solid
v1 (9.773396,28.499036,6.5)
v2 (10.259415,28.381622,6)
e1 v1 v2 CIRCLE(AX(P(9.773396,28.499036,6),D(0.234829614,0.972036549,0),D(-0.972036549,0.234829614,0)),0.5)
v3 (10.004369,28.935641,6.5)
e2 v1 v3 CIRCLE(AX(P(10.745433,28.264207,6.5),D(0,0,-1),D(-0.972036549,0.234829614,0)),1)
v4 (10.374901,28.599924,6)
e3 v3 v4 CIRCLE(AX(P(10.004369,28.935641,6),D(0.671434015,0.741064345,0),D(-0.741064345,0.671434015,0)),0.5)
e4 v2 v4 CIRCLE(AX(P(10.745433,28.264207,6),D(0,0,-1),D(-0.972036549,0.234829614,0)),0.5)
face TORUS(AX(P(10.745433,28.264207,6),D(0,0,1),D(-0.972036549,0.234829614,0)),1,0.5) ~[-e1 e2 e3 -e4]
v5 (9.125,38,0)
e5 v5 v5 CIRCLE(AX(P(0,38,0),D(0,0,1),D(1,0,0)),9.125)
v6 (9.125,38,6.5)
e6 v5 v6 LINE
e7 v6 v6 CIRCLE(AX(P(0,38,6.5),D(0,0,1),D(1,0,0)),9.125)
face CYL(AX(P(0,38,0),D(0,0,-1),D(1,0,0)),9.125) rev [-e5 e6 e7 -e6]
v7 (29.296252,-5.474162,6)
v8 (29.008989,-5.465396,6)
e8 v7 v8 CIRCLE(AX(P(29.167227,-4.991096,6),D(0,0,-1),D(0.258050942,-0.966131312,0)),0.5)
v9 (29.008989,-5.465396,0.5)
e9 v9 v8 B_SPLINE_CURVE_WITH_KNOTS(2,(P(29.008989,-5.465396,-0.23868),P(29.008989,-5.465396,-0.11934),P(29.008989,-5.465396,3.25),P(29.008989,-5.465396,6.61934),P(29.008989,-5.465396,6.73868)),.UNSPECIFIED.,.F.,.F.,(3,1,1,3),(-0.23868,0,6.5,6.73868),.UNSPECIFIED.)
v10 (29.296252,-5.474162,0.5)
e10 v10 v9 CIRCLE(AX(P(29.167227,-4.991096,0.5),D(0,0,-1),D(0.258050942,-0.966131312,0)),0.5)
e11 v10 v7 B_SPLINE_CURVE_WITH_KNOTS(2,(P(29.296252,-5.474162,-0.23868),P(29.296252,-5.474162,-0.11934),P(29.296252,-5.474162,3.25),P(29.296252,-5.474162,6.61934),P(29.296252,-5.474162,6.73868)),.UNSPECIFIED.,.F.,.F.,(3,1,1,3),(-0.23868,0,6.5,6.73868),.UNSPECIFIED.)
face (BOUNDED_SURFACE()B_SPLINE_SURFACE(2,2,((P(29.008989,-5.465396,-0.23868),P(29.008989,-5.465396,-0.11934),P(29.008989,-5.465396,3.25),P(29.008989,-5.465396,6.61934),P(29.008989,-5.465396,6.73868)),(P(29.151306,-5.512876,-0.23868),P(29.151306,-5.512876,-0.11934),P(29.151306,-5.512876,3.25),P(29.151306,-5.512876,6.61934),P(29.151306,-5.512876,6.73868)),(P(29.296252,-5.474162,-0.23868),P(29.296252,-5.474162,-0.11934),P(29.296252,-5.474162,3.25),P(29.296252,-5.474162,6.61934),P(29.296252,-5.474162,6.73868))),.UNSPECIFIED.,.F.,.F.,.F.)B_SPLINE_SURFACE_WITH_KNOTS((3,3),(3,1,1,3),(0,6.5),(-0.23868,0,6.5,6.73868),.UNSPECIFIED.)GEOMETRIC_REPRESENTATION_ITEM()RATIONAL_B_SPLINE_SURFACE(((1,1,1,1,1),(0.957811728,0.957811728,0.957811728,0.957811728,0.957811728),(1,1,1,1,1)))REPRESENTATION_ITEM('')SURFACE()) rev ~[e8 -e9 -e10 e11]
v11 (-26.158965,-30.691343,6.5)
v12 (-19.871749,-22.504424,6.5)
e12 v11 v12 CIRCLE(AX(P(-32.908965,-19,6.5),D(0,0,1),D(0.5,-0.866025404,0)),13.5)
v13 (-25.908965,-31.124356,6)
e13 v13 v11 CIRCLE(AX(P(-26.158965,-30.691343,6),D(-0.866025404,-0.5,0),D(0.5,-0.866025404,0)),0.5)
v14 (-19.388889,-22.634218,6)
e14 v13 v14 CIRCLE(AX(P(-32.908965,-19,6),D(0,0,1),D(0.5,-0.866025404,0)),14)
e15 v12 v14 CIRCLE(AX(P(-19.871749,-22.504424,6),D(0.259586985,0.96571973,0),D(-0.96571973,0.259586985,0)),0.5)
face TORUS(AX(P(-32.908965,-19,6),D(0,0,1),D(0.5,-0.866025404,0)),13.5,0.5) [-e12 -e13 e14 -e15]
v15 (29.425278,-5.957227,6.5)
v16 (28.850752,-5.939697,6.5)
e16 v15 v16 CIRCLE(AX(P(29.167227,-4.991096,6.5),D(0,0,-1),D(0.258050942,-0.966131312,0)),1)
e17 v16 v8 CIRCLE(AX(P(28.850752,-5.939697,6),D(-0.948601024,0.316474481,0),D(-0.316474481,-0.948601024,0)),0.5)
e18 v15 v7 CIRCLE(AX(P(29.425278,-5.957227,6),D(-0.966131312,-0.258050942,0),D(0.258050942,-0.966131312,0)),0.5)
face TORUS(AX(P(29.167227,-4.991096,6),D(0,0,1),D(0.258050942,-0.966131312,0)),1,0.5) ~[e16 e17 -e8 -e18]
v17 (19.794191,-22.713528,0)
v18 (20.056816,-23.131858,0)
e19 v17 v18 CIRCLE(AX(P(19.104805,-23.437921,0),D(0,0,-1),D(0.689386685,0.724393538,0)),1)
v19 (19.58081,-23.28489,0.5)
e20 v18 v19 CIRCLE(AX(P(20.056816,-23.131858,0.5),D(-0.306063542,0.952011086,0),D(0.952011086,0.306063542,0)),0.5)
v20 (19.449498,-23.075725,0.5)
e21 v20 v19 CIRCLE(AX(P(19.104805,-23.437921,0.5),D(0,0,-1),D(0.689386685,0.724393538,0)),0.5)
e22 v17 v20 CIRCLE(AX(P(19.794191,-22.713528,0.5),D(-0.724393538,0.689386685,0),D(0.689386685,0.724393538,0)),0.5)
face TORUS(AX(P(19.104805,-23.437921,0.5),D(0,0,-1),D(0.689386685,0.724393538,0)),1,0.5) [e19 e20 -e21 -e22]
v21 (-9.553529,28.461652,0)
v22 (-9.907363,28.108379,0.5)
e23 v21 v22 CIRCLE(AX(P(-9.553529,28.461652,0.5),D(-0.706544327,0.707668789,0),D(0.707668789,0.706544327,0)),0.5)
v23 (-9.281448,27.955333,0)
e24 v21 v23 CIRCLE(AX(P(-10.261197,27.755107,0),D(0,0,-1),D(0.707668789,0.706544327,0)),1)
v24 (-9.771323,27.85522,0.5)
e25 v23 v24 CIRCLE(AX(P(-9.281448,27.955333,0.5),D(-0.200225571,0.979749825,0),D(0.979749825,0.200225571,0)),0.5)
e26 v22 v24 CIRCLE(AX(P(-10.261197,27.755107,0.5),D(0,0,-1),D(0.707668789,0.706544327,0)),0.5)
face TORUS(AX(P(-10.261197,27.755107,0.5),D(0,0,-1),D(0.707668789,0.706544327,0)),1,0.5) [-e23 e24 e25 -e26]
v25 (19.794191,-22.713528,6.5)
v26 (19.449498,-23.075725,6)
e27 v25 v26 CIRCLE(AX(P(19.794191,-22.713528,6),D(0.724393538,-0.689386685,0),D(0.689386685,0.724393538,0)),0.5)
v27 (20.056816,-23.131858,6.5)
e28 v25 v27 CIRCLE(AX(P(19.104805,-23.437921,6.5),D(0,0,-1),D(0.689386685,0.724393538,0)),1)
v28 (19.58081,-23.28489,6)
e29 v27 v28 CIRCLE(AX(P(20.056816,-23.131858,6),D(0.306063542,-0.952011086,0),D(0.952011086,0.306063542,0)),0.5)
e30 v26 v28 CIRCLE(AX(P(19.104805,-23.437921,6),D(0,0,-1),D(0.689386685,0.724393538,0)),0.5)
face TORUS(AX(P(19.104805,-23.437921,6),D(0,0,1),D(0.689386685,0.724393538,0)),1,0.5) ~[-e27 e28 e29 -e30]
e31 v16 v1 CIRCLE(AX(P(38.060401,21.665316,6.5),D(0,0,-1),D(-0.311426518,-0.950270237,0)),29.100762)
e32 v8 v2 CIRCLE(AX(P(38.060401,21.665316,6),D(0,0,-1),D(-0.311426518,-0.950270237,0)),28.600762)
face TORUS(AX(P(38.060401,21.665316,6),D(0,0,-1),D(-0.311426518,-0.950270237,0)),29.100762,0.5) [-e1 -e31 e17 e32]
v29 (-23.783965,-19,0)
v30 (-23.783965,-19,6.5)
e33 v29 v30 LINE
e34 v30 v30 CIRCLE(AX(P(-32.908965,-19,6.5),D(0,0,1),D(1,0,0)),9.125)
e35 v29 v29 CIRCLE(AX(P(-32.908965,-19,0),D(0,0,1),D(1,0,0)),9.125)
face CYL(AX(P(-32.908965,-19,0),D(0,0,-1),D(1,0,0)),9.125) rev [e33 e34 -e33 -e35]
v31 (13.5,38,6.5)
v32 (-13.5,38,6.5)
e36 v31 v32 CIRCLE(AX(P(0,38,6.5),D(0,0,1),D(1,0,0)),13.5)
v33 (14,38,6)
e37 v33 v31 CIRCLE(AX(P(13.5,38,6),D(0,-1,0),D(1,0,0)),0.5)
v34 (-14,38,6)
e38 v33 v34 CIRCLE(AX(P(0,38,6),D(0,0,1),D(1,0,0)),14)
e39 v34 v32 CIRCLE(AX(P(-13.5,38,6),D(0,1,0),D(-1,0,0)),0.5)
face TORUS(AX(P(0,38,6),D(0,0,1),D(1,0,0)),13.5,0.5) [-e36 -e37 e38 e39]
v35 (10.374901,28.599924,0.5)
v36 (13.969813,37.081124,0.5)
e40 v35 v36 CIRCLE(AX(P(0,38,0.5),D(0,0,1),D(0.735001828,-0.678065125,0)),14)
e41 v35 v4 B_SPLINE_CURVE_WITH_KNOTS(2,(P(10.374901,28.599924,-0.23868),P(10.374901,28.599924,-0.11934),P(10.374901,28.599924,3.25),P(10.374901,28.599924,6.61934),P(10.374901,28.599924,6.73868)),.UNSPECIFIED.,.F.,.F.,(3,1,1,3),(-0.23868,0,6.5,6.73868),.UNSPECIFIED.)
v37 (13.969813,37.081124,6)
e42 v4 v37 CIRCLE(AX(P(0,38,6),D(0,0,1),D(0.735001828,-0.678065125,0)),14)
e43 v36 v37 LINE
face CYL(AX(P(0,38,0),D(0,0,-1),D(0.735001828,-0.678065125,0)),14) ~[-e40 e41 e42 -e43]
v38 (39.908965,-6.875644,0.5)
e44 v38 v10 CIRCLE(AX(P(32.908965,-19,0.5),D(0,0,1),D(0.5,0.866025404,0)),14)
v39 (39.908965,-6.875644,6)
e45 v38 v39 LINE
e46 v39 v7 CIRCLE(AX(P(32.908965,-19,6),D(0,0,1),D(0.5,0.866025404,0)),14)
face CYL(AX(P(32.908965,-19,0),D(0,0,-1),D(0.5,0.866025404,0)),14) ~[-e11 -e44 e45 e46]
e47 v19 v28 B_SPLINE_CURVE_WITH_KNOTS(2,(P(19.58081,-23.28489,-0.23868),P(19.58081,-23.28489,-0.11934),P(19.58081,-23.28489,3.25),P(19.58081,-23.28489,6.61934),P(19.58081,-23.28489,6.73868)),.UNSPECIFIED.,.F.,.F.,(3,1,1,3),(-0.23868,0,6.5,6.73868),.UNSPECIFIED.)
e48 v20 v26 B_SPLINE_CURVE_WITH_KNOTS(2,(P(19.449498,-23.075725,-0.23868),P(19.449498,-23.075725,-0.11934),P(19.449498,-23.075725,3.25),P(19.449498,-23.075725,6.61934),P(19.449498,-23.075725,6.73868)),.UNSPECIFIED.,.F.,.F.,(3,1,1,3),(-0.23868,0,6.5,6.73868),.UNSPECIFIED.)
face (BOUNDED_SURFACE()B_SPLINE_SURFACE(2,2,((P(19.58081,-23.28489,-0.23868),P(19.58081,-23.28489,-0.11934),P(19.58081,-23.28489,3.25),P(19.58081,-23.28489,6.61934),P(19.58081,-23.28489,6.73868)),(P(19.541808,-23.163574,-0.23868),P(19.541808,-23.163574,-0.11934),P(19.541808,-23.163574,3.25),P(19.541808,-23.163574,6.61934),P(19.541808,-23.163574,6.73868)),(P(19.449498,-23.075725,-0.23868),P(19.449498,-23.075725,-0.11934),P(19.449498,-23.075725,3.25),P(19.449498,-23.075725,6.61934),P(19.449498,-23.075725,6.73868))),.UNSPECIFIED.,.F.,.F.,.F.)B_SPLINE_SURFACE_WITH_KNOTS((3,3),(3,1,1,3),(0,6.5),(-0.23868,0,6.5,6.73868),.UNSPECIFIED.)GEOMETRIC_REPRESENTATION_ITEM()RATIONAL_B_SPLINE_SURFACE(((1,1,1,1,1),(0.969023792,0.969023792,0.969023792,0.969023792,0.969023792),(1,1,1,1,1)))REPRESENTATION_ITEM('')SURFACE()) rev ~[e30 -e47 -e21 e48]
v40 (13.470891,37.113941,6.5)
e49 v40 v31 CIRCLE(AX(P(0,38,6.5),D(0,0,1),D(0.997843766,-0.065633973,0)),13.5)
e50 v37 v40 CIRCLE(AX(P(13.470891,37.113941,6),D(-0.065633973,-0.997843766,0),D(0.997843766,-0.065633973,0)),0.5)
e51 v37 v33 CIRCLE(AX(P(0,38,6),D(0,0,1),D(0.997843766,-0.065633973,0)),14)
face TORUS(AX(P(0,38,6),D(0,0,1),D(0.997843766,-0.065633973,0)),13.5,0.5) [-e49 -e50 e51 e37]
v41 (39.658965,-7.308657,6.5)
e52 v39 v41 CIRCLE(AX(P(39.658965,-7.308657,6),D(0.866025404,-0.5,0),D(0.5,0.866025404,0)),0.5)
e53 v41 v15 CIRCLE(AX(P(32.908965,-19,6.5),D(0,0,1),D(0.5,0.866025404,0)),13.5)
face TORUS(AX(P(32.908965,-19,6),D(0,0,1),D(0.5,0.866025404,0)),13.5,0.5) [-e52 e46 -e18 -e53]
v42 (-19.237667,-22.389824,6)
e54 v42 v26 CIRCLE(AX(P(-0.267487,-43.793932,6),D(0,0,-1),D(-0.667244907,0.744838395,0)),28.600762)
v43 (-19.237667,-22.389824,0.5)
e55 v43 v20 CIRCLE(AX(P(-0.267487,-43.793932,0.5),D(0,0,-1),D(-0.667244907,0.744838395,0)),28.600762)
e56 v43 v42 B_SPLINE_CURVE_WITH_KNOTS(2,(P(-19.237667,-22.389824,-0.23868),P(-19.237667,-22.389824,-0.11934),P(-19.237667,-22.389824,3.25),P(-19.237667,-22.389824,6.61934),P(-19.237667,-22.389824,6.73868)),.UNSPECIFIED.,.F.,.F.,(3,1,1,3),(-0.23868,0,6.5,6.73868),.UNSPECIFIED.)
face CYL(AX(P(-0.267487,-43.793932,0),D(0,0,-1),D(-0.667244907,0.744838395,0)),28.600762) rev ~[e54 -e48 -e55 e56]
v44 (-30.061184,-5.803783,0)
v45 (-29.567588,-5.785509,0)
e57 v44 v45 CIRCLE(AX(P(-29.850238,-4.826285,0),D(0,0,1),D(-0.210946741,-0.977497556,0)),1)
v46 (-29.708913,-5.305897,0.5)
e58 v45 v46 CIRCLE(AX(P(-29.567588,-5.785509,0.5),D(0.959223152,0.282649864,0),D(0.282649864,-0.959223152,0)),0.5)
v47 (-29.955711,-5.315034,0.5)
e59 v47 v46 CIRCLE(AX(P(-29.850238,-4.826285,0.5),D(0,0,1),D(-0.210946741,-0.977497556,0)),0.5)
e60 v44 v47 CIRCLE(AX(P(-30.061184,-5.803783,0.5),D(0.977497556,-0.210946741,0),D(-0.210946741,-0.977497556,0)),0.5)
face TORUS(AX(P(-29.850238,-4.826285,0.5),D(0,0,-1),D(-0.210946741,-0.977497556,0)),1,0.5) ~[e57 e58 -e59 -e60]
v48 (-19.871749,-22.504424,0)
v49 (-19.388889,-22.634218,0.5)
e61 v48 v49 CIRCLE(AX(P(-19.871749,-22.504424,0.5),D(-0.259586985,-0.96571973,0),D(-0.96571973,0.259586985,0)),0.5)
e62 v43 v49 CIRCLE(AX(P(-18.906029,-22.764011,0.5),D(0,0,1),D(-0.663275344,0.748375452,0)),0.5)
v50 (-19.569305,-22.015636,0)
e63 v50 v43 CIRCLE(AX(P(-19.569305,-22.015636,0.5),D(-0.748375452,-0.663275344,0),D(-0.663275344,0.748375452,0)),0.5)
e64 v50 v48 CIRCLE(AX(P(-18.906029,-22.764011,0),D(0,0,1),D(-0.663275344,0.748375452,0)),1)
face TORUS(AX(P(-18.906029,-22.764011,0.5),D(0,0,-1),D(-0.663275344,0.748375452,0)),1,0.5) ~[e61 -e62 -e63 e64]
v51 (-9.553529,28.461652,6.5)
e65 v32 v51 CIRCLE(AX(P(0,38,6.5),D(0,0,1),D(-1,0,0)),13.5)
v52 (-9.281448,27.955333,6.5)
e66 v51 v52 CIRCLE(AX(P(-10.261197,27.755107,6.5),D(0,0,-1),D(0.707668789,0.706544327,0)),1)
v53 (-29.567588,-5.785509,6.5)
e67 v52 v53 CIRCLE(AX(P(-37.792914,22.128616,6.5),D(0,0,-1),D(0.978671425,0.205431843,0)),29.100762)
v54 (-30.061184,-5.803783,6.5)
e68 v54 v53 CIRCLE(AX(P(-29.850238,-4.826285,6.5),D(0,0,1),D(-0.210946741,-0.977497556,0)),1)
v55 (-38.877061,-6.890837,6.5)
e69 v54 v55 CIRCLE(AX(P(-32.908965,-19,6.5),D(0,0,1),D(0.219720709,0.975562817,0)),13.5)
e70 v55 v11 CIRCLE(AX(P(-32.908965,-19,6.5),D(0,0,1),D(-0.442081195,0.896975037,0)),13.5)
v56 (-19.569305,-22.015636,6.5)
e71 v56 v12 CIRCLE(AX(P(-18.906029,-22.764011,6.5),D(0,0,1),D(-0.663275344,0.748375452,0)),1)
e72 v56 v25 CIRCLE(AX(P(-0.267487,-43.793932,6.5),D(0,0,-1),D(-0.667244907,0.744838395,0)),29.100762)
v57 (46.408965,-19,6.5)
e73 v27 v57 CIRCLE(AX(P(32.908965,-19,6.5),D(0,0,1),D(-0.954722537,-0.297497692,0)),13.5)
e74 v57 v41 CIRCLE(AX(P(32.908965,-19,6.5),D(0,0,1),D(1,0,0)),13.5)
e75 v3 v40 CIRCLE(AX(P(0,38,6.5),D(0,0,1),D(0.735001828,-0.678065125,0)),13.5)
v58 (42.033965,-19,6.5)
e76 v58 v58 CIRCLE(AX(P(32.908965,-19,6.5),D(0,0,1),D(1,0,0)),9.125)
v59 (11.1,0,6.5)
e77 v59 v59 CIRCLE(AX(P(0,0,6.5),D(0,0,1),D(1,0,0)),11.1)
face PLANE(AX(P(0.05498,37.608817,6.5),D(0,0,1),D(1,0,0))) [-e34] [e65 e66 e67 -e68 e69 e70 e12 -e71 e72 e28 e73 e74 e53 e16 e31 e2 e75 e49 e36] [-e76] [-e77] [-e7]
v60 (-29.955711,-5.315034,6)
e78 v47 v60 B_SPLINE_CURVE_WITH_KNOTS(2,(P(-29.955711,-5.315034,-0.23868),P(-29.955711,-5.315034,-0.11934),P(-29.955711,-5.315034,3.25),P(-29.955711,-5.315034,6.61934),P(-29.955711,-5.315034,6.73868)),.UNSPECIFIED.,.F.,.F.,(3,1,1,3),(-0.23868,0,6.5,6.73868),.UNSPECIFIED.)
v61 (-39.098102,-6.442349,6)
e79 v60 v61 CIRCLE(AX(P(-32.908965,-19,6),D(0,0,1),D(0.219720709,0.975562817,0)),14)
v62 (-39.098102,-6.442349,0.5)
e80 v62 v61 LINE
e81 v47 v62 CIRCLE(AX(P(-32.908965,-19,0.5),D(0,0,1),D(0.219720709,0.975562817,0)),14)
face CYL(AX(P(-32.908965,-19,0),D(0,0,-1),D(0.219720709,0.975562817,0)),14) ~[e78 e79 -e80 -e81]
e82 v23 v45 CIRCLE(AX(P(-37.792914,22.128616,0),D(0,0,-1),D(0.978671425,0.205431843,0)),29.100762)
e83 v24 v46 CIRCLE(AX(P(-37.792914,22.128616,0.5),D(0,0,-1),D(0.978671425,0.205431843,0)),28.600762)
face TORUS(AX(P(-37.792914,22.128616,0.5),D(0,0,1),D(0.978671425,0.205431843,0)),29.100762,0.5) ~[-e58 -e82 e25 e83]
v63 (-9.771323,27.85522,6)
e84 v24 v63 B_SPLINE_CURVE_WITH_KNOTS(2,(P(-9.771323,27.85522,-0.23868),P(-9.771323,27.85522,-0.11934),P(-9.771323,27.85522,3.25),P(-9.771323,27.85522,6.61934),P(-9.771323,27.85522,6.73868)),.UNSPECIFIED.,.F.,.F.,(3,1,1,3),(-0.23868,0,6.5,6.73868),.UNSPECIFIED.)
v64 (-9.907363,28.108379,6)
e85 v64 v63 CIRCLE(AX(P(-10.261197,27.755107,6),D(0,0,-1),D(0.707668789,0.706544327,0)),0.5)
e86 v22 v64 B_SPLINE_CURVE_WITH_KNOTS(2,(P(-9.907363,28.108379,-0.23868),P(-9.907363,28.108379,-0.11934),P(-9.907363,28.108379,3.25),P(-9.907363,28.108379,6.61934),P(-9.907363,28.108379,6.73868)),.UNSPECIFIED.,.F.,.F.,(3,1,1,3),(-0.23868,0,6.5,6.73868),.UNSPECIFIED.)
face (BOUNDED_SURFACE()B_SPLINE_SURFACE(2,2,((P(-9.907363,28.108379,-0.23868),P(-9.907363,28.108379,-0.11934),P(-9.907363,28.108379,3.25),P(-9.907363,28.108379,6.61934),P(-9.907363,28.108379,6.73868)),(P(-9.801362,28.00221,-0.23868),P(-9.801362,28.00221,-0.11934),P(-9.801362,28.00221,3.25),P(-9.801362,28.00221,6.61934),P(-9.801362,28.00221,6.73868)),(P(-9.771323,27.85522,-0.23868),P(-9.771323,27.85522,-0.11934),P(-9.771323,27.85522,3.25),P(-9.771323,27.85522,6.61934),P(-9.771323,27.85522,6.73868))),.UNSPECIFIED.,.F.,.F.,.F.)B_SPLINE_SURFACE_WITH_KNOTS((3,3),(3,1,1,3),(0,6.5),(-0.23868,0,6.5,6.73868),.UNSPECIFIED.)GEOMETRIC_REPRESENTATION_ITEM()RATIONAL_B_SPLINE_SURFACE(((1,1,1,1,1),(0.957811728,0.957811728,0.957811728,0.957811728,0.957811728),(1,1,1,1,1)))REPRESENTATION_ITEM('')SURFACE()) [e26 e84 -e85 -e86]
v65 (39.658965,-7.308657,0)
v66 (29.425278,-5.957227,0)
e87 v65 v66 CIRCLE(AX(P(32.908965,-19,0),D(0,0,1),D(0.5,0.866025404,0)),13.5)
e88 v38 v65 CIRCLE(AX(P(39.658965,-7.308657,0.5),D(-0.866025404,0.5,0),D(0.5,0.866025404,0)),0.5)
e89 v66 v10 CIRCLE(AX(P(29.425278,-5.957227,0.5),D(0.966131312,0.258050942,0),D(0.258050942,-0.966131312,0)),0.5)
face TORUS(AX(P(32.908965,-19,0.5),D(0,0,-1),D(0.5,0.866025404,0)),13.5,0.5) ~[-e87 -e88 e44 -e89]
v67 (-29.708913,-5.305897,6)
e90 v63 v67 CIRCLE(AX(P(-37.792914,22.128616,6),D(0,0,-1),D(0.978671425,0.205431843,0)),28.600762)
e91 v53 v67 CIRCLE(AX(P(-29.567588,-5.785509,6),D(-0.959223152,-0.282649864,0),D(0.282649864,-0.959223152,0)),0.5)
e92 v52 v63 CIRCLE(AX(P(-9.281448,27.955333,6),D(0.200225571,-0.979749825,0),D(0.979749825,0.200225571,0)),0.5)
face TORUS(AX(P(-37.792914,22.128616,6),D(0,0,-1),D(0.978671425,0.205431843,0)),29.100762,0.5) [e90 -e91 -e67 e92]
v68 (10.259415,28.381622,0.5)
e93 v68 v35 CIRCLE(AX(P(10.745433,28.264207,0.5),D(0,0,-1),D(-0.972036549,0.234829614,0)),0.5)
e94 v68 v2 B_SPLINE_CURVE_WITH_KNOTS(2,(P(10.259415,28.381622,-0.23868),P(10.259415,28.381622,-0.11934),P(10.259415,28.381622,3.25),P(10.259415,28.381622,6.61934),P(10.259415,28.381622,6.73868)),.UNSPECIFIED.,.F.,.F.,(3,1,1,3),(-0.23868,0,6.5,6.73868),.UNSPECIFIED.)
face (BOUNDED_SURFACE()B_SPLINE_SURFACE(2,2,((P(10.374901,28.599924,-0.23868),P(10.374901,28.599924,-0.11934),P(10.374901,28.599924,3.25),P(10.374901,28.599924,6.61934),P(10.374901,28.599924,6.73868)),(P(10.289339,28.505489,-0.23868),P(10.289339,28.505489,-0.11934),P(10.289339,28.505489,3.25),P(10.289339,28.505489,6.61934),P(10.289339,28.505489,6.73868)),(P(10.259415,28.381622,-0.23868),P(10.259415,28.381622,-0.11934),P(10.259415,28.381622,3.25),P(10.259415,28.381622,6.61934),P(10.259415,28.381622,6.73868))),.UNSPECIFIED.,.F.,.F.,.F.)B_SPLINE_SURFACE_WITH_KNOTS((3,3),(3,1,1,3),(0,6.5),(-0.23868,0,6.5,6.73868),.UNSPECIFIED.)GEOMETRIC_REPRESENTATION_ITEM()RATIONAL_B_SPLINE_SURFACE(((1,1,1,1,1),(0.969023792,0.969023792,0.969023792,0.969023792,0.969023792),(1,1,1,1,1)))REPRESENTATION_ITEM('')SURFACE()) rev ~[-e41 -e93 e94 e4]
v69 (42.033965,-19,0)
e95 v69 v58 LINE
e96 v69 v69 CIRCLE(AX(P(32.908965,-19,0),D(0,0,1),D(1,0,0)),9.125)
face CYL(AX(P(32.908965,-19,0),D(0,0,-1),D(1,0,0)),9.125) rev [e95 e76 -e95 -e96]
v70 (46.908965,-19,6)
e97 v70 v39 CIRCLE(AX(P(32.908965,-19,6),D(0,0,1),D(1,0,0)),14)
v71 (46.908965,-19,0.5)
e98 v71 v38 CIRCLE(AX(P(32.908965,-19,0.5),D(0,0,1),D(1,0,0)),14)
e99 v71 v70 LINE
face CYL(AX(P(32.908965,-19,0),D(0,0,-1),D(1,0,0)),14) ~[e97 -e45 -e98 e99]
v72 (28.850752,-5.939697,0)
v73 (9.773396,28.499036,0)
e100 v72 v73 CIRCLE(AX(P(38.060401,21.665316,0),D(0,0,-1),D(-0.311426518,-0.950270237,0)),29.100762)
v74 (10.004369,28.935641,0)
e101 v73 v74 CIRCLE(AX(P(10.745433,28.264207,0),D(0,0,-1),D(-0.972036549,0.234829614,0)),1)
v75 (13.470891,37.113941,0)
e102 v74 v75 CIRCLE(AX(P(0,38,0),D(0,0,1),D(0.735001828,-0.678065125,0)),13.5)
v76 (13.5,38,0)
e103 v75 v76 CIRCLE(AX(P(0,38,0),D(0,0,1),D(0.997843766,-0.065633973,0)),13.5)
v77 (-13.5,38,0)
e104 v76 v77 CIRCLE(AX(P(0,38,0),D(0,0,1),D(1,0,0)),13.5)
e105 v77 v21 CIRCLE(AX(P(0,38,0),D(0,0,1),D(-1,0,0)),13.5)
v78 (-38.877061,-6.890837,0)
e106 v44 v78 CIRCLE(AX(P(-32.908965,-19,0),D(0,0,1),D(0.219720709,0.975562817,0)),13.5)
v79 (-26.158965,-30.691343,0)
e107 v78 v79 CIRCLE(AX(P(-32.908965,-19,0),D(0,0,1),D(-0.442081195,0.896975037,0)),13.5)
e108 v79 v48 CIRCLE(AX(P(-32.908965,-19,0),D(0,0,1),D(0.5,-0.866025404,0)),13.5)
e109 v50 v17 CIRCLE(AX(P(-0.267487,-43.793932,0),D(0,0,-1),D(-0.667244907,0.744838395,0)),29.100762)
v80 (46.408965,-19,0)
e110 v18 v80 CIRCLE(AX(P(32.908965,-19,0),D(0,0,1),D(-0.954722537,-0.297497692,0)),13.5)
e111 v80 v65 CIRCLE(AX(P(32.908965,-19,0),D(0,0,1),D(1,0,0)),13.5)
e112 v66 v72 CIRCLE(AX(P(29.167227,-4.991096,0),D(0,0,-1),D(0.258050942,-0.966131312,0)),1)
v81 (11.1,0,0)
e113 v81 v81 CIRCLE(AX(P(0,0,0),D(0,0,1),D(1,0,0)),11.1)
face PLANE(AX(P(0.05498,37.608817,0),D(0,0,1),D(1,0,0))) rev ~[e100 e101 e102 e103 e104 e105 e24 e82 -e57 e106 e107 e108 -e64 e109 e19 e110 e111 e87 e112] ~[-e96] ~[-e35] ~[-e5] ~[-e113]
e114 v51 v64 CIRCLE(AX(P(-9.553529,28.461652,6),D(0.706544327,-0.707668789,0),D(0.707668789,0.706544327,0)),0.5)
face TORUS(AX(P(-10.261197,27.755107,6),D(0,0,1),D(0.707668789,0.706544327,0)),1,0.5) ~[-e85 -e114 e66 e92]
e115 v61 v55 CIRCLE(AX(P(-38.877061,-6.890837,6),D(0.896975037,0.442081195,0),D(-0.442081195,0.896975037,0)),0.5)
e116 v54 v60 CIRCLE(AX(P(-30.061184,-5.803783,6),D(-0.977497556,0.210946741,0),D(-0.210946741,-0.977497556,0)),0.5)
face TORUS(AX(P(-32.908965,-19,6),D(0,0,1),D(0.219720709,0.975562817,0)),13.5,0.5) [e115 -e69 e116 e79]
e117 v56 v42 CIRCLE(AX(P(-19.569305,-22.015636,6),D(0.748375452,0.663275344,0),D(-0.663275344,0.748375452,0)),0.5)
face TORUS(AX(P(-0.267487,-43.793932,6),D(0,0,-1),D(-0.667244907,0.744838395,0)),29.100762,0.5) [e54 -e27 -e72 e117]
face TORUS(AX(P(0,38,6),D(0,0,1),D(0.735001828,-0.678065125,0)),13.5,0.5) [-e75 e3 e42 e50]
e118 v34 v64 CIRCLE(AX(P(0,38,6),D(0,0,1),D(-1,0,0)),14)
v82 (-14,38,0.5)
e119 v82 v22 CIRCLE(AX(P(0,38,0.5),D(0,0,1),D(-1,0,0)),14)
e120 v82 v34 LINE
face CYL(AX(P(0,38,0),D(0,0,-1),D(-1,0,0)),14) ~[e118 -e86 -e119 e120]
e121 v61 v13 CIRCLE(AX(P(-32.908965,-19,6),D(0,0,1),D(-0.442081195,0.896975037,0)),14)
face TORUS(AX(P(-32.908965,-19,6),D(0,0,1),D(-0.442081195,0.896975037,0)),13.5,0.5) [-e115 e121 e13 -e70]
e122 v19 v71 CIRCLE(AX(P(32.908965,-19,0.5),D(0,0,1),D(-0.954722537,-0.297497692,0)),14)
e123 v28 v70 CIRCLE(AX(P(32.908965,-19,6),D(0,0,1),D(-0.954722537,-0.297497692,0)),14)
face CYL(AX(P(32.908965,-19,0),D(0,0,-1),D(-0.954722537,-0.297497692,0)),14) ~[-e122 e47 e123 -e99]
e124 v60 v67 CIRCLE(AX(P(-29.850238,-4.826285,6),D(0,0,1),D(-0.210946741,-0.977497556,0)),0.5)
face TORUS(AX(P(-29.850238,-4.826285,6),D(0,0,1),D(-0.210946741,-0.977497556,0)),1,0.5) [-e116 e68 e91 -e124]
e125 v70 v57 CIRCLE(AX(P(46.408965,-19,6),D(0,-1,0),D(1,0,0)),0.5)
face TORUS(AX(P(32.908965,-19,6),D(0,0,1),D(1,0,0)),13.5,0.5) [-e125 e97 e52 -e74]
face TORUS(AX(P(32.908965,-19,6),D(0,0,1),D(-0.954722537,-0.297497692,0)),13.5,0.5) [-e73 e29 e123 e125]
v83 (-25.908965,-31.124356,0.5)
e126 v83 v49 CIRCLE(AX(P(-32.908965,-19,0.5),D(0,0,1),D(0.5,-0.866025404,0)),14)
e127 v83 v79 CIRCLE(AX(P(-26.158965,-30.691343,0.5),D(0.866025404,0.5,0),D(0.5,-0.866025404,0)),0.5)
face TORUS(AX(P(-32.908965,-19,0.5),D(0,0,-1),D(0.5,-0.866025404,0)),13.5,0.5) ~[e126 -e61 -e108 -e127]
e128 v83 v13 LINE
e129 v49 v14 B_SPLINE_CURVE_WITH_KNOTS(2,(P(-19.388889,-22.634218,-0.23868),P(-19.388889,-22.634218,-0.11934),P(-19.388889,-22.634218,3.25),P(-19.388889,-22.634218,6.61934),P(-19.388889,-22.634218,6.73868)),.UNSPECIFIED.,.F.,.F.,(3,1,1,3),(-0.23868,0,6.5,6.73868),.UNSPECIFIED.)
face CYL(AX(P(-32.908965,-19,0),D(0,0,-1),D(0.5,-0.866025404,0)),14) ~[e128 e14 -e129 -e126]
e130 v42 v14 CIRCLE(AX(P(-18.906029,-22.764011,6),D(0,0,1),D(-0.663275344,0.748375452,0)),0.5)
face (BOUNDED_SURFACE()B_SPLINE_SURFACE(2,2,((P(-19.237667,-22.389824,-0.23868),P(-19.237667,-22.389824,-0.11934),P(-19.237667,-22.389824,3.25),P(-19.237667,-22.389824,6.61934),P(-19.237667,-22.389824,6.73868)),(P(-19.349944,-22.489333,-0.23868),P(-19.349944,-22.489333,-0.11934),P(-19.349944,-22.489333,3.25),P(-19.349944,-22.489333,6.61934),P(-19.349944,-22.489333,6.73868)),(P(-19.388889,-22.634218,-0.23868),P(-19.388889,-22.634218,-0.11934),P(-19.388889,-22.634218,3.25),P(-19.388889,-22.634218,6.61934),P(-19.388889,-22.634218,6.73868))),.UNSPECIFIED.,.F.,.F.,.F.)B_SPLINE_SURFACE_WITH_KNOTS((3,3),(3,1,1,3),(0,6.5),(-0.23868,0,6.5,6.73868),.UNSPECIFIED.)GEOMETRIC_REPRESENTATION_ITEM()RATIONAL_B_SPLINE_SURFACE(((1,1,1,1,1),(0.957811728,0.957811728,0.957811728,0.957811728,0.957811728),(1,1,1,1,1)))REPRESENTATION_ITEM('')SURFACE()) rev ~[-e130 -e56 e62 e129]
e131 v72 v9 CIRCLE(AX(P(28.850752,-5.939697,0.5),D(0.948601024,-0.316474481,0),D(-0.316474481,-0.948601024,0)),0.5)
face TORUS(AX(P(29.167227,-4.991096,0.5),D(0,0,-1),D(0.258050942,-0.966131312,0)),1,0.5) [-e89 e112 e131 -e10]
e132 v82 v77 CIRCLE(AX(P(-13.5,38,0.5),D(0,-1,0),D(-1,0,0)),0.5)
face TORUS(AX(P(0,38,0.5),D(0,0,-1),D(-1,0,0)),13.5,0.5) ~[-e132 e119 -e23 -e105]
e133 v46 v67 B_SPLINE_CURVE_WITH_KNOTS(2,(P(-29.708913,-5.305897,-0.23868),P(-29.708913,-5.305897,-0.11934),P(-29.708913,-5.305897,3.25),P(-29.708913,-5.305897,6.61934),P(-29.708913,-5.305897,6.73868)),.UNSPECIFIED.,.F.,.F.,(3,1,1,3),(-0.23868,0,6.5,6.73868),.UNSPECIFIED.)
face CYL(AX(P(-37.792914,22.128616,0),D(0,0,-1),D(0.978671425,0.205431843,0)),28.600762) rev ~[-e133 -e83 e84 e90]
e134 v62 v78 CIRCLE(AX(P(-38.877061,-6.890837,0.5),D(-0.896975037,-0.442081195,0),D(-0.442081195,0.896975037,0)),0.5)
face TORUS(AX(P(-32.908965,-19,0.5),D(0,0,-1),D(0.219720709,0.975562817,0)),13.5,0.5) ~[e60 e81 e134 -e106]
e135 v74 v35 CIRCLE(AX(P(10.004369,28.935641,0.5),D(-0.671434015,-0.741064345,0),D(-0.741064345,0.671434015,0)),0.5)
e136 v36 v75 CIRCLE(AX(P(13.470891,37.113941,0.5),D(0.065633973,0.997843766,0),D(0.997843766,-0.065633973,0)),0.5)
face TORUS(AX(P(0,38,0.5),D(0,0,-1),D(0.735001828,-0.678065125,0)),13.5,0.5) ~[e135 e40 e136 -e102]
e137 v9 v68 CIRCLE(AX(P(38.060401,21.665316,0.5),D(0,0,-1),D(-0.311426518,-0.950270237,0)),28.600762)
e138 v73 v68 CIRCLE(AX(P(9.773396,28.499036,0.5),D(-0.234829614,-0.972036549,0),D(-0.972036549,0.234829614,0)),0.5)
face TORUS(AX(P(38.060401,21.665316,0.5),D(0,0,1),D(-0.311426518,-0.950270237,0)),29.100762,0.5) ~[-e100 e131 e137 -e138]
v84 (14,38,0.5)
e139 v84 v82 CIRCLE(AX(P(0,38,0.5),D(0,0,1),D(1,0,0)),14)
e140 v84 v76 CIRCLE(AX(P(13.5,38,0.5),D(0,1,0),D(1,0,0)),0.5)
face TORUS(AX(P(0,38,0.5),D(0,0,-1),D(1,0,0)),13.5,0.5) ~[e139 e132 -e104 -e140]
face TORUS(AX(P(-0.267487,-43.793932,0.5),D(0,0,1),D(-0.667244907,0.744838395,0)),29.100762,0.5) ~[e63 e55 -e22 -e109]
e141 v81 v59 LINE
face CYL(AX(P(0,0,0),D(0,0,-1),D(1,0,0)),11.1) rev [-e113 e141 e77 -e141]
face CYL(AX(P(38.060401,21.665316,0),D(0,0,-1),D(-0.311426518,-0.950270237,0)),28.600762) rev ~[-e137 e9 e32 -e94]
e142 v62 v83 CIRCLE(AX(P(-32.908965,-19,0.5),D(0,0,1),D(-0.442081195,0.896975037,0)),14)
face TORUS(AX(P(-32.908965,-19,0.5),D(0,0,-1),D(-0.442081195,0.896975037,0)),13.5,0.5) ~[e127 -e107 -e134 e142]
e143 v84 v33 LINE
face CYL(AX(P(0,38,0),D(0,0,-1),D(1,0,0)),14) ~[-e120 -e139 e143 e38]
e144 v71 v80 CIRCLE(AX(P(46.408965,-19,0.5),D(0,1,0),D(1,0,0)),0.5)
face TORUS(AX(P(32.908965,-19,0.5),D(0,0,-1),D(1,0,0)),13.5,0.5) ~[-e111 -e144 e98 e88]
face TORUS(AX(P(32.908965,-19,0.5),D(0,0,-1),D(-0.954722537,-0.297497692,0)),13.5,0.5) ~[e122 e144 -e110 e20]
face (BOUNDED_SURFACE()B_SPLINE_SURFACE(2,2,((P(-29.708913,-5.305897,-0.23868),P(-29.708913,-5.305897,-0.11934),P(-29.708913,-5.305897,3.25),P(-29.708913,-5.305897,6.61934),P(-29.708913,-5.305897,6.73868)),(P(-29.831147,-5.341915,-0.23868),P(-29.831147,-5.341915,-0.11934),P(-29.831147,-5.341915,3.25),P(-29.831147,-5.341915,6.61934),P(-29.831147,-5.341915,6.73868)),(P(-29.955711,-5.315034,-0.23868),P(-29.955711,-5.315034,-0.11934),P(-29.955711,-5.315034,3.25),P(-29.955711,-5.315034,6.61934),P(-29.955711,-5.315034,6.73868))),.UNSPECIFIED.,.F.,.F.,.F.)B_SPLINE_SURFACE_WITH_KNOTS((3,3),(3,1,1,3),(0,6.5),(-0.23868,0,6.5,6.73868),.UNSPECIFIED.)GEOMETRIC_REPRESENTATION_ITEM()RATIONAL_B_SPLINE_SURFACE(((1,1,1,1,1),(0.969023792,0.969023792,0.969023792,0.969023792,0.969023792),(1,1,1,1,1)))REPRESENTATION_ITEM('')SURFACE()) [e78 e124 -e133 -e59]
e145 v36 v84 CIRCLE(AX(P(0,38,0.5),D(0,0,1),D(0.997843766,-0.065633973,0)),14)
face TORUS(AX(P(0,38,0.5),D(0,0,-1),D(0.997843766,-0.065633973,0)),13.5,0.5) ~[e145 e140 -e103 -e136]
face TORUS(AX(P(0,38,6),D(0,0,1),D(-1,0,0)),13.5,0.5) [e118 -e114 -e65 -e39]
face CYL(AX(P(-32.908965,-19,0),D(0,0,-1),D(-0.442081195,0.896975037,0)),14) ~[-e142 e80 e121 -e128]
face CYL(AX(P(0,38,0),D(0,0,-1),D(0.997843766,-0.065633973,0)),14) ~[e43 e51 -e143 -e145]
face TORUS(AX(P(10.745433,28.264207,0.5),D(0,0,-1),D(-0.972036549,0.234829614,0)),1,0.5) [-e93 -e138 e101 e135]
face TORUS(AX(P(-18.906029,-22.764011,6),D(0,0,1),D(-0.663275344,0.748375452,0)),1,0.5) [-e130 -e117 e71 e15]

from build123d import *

# Parameters (mm, degrees)
F0_R     = 9.125
F0_R_2   = 14
F0_R_3   = 11.1
F1_DEPTH = 6.5
F2_R     = 0.5


with BuildPart() as f1:
    # F0 (on Top) → F1 (new body)
    with BuildSketch(Plane.XY):
        with BuildLine():
            ThreePointArc((13.9698127256, 37.0811243764), (13.9924511462, 37.5403143239), (14, 38))
            ThreePointArc((14, 38), (0, 52), (-14, 38))
            ThreePointArc((-14, 38), (-11.4231147945, 33.2027875061), (-9.8021655993, 28.0041233719))
            ThreePointArc((-9.8021655993, 28.0041233719), (0.350350197, 24.0043844459), (10.2900255879, 28.5070882549))
            ThreePointArc((10.2900255879, 28.5070882549), (11.7779275125, 32.9451733635), (13.9698127256, 37.0811243764))
        make_face()
        with Locations((0, 38)):
            Circle(F0_R, mode=Mode.SUBTRACT)
        with BuildLine():
            ThreePointArc((-9.8021655993, 28.0041233719), (-11.4231147945, 33.2027875061), (-14, 38))
            ThreePointArc((-14, 38), (-12.9079494574, 32.5792213839), (-9.8021655993, 28.0041233719))
        make_face()
        with BuildLine():
            ThreePointArc((10.2900255879, 28.5070882549), (12.8652035585, 32.4785384727), (13.9698127256, 37.0811243764))
            ThreePointArc((13.9698127256, 37.0811243764), (11.7779275125, 32.9451733635), (10.2900255879, 28.5070882549))
        make_face()
        with BuildLine():
            ThreePointArc((10.2900255879, 28.5070882549), (0.350350197, 24.0043844459), (-9.8021655993, 28.0041233719))
            ThreePointArc((-9.8021655993, 28.0041233719), (-13.275414836, 7.4012328685), (-29.8328754107, -5.3421205627))
            ThreePointArc((-29.8328754107, -5.3421205627), (-21.9758674511, -10.2554376629), (-18.9089653438, -19))
            ThreePointArc((-18.9089653438, -19), (-19.0199638949, -20.7594427388), (-19.3511994511, -22.490986107))
            ThreePointArc((-19.3511994511, -22.490986107), (0.2280517346, -15.1974629279), (19.5428498227, -23.1649676922))
            ThreePointArc((19.5428498227, -23.1649676922), (20.6132316338, -12.3056043937), (29.1533650504, -5.5131372649))
            ThreePointArc((29.1533650504, -5.5131372649), (13.0473631014, 7.7962300595), (10.2900255879, 28.5070882549))
        make_face()
        Circle(F0_R_2, mode=Mode.SUBTRACT)
        with BuildLine():
            ThreePointArc((-39.0981020737, -6.4423494817), (-34.4203208212, -6.272602252), (-29.8328754107, -5.3421205627))
            ThreePointArc((-29.8328754107, -5.3421205627), (-34.5598411744, -5.0976761298), (-39.0981020737, -6.4423494817))
        make_face()
        with BuildLine():
            ThreePointArc((-18.9089653438, -19), (-21.9758674511, -10.2554376629), (-29.8328754107, -5.3421205627))
            ThreePointArc((-29.8328754107, -5.3421205627), (-34.4203208212, -6.272602252), (-39.0981020737, -6.4423494817))
            ThreePointArc((-39.0981020737, -6.4423494817), (-45.2566263357, -25.5981260999), (-25.9089653438, -31.124355653))
            ThreePointArc((-25.9089653438, -31.124355653), (-23.0429000595, -26.4941013554), (-19.3511994511, -22.490986107))
            ThreePointArc((-19.3511994511, -22.490986107), (-19.0199638949, -20.7594427388), (-18.9089653438, -19))
        make_face()
        with Locations((-32.9089653438, -19)):
            Circle(F0_R, mode=Mode.SUBTRACT)
        with BuildLine():
            ThreePointArc((39.9089653438, -6.875644347), (34.466014854, -6.7086861507), (29.1533650504, -5.5131372649))
            ThreePointArc((29.1533650504, -5.5131372649), (20.6132316338, -12.3056043937), (19.5428498227, -23.1649676922))
            ThreePointArc((19.5428498227, -23.1649676922), (22.6423933087, -26.6725711115), (25.1282893481, -30.6387748947))
            ThreePointArc((25.1282893481, -30.6387748947), (39.5070914437, -31.3476609919), (46.9089653438, -19))
            ThreePointArc((46.9089653438, -19), (45.0333209968, -12), (39.9089653438, -6.875644347))
        make_face()
        with Locations((32.9089653438, -19)):
            Circle(F0_R, mode=Mode.SUBTRACT)
        with BuildLine():
            ThreePointArc((39.9089653438, -6.875644347), (34.6684080827, -5.1109985511), (29.1533650504, -5.5131372649))
            ThreePointArc((29.1533650504, -5.5131372649), (34.466014854, -6.7086861507), (39.9089653438, -6.875644347))
        make_face()
        with BuildLine():
            ThreePointArc((25.1282893481, -30.6387748947), (22.6423933087, -26.6725711115), (19.5428498227, -23.1649676922))
            ThreePointArc((19.5428498227, -23.1649676922), (21.6946376159, -27.3808623429), (25.1282893481, -30.6387748947))
        make_face()
        with BuildLine():
            ThreePointArc((-25.9089653438, -31.124355653), (-21.7604586252, -27.4682228328), (-19.3511994511, -22.490986107))
            ThreePointArc((-19.3511994511, -22.490986107), (-23.0429000595, -26.4941013554), (-25.9089653438, -31.124355653))
        make_face()
        Circle(F0_R_2)
        Circle(F0_R_3, mode=Mode.SUBTRACT)
    extrude(amount=F1_DEPTH)

    # F2
    f2_edges = [f1.edges().sort_by_distance(p)[0] for p in [
        (-19.351199, -22.490986, 3.25),
        (19.54285, -23.164968, 3.25),
        (0.228052, -15.197463, 0),
        (0.228052, -15.197463, 6.5),
        (-29.832875, -5.342121, 3.25),
        (-44.854349, -26.30122, 0),
        (-44.854349, -26.30122, 6.5),
        (29.153365, -5.513137, 3.25),
        (45.204699, -25.694396, 0),
        (45.204699, -25.694396, 6.5),
        (10.290026, 28.507088, 3.25),
        (13.047363, 7.79623, 0),
        (13.047363, 7.79623, 6.5),
        (-9.802166, 28.004123, 3.25),
        (-0.35035, 51.995616, 0),
        (-0.35035, 51.995616, 6.5),
        (-13.275415, 7.401233, 0),
        (-13.275415, 7.401233, 6.5),
    ]]
    fillet(f2_edges, radius=F2_R)


solid = f1.part
